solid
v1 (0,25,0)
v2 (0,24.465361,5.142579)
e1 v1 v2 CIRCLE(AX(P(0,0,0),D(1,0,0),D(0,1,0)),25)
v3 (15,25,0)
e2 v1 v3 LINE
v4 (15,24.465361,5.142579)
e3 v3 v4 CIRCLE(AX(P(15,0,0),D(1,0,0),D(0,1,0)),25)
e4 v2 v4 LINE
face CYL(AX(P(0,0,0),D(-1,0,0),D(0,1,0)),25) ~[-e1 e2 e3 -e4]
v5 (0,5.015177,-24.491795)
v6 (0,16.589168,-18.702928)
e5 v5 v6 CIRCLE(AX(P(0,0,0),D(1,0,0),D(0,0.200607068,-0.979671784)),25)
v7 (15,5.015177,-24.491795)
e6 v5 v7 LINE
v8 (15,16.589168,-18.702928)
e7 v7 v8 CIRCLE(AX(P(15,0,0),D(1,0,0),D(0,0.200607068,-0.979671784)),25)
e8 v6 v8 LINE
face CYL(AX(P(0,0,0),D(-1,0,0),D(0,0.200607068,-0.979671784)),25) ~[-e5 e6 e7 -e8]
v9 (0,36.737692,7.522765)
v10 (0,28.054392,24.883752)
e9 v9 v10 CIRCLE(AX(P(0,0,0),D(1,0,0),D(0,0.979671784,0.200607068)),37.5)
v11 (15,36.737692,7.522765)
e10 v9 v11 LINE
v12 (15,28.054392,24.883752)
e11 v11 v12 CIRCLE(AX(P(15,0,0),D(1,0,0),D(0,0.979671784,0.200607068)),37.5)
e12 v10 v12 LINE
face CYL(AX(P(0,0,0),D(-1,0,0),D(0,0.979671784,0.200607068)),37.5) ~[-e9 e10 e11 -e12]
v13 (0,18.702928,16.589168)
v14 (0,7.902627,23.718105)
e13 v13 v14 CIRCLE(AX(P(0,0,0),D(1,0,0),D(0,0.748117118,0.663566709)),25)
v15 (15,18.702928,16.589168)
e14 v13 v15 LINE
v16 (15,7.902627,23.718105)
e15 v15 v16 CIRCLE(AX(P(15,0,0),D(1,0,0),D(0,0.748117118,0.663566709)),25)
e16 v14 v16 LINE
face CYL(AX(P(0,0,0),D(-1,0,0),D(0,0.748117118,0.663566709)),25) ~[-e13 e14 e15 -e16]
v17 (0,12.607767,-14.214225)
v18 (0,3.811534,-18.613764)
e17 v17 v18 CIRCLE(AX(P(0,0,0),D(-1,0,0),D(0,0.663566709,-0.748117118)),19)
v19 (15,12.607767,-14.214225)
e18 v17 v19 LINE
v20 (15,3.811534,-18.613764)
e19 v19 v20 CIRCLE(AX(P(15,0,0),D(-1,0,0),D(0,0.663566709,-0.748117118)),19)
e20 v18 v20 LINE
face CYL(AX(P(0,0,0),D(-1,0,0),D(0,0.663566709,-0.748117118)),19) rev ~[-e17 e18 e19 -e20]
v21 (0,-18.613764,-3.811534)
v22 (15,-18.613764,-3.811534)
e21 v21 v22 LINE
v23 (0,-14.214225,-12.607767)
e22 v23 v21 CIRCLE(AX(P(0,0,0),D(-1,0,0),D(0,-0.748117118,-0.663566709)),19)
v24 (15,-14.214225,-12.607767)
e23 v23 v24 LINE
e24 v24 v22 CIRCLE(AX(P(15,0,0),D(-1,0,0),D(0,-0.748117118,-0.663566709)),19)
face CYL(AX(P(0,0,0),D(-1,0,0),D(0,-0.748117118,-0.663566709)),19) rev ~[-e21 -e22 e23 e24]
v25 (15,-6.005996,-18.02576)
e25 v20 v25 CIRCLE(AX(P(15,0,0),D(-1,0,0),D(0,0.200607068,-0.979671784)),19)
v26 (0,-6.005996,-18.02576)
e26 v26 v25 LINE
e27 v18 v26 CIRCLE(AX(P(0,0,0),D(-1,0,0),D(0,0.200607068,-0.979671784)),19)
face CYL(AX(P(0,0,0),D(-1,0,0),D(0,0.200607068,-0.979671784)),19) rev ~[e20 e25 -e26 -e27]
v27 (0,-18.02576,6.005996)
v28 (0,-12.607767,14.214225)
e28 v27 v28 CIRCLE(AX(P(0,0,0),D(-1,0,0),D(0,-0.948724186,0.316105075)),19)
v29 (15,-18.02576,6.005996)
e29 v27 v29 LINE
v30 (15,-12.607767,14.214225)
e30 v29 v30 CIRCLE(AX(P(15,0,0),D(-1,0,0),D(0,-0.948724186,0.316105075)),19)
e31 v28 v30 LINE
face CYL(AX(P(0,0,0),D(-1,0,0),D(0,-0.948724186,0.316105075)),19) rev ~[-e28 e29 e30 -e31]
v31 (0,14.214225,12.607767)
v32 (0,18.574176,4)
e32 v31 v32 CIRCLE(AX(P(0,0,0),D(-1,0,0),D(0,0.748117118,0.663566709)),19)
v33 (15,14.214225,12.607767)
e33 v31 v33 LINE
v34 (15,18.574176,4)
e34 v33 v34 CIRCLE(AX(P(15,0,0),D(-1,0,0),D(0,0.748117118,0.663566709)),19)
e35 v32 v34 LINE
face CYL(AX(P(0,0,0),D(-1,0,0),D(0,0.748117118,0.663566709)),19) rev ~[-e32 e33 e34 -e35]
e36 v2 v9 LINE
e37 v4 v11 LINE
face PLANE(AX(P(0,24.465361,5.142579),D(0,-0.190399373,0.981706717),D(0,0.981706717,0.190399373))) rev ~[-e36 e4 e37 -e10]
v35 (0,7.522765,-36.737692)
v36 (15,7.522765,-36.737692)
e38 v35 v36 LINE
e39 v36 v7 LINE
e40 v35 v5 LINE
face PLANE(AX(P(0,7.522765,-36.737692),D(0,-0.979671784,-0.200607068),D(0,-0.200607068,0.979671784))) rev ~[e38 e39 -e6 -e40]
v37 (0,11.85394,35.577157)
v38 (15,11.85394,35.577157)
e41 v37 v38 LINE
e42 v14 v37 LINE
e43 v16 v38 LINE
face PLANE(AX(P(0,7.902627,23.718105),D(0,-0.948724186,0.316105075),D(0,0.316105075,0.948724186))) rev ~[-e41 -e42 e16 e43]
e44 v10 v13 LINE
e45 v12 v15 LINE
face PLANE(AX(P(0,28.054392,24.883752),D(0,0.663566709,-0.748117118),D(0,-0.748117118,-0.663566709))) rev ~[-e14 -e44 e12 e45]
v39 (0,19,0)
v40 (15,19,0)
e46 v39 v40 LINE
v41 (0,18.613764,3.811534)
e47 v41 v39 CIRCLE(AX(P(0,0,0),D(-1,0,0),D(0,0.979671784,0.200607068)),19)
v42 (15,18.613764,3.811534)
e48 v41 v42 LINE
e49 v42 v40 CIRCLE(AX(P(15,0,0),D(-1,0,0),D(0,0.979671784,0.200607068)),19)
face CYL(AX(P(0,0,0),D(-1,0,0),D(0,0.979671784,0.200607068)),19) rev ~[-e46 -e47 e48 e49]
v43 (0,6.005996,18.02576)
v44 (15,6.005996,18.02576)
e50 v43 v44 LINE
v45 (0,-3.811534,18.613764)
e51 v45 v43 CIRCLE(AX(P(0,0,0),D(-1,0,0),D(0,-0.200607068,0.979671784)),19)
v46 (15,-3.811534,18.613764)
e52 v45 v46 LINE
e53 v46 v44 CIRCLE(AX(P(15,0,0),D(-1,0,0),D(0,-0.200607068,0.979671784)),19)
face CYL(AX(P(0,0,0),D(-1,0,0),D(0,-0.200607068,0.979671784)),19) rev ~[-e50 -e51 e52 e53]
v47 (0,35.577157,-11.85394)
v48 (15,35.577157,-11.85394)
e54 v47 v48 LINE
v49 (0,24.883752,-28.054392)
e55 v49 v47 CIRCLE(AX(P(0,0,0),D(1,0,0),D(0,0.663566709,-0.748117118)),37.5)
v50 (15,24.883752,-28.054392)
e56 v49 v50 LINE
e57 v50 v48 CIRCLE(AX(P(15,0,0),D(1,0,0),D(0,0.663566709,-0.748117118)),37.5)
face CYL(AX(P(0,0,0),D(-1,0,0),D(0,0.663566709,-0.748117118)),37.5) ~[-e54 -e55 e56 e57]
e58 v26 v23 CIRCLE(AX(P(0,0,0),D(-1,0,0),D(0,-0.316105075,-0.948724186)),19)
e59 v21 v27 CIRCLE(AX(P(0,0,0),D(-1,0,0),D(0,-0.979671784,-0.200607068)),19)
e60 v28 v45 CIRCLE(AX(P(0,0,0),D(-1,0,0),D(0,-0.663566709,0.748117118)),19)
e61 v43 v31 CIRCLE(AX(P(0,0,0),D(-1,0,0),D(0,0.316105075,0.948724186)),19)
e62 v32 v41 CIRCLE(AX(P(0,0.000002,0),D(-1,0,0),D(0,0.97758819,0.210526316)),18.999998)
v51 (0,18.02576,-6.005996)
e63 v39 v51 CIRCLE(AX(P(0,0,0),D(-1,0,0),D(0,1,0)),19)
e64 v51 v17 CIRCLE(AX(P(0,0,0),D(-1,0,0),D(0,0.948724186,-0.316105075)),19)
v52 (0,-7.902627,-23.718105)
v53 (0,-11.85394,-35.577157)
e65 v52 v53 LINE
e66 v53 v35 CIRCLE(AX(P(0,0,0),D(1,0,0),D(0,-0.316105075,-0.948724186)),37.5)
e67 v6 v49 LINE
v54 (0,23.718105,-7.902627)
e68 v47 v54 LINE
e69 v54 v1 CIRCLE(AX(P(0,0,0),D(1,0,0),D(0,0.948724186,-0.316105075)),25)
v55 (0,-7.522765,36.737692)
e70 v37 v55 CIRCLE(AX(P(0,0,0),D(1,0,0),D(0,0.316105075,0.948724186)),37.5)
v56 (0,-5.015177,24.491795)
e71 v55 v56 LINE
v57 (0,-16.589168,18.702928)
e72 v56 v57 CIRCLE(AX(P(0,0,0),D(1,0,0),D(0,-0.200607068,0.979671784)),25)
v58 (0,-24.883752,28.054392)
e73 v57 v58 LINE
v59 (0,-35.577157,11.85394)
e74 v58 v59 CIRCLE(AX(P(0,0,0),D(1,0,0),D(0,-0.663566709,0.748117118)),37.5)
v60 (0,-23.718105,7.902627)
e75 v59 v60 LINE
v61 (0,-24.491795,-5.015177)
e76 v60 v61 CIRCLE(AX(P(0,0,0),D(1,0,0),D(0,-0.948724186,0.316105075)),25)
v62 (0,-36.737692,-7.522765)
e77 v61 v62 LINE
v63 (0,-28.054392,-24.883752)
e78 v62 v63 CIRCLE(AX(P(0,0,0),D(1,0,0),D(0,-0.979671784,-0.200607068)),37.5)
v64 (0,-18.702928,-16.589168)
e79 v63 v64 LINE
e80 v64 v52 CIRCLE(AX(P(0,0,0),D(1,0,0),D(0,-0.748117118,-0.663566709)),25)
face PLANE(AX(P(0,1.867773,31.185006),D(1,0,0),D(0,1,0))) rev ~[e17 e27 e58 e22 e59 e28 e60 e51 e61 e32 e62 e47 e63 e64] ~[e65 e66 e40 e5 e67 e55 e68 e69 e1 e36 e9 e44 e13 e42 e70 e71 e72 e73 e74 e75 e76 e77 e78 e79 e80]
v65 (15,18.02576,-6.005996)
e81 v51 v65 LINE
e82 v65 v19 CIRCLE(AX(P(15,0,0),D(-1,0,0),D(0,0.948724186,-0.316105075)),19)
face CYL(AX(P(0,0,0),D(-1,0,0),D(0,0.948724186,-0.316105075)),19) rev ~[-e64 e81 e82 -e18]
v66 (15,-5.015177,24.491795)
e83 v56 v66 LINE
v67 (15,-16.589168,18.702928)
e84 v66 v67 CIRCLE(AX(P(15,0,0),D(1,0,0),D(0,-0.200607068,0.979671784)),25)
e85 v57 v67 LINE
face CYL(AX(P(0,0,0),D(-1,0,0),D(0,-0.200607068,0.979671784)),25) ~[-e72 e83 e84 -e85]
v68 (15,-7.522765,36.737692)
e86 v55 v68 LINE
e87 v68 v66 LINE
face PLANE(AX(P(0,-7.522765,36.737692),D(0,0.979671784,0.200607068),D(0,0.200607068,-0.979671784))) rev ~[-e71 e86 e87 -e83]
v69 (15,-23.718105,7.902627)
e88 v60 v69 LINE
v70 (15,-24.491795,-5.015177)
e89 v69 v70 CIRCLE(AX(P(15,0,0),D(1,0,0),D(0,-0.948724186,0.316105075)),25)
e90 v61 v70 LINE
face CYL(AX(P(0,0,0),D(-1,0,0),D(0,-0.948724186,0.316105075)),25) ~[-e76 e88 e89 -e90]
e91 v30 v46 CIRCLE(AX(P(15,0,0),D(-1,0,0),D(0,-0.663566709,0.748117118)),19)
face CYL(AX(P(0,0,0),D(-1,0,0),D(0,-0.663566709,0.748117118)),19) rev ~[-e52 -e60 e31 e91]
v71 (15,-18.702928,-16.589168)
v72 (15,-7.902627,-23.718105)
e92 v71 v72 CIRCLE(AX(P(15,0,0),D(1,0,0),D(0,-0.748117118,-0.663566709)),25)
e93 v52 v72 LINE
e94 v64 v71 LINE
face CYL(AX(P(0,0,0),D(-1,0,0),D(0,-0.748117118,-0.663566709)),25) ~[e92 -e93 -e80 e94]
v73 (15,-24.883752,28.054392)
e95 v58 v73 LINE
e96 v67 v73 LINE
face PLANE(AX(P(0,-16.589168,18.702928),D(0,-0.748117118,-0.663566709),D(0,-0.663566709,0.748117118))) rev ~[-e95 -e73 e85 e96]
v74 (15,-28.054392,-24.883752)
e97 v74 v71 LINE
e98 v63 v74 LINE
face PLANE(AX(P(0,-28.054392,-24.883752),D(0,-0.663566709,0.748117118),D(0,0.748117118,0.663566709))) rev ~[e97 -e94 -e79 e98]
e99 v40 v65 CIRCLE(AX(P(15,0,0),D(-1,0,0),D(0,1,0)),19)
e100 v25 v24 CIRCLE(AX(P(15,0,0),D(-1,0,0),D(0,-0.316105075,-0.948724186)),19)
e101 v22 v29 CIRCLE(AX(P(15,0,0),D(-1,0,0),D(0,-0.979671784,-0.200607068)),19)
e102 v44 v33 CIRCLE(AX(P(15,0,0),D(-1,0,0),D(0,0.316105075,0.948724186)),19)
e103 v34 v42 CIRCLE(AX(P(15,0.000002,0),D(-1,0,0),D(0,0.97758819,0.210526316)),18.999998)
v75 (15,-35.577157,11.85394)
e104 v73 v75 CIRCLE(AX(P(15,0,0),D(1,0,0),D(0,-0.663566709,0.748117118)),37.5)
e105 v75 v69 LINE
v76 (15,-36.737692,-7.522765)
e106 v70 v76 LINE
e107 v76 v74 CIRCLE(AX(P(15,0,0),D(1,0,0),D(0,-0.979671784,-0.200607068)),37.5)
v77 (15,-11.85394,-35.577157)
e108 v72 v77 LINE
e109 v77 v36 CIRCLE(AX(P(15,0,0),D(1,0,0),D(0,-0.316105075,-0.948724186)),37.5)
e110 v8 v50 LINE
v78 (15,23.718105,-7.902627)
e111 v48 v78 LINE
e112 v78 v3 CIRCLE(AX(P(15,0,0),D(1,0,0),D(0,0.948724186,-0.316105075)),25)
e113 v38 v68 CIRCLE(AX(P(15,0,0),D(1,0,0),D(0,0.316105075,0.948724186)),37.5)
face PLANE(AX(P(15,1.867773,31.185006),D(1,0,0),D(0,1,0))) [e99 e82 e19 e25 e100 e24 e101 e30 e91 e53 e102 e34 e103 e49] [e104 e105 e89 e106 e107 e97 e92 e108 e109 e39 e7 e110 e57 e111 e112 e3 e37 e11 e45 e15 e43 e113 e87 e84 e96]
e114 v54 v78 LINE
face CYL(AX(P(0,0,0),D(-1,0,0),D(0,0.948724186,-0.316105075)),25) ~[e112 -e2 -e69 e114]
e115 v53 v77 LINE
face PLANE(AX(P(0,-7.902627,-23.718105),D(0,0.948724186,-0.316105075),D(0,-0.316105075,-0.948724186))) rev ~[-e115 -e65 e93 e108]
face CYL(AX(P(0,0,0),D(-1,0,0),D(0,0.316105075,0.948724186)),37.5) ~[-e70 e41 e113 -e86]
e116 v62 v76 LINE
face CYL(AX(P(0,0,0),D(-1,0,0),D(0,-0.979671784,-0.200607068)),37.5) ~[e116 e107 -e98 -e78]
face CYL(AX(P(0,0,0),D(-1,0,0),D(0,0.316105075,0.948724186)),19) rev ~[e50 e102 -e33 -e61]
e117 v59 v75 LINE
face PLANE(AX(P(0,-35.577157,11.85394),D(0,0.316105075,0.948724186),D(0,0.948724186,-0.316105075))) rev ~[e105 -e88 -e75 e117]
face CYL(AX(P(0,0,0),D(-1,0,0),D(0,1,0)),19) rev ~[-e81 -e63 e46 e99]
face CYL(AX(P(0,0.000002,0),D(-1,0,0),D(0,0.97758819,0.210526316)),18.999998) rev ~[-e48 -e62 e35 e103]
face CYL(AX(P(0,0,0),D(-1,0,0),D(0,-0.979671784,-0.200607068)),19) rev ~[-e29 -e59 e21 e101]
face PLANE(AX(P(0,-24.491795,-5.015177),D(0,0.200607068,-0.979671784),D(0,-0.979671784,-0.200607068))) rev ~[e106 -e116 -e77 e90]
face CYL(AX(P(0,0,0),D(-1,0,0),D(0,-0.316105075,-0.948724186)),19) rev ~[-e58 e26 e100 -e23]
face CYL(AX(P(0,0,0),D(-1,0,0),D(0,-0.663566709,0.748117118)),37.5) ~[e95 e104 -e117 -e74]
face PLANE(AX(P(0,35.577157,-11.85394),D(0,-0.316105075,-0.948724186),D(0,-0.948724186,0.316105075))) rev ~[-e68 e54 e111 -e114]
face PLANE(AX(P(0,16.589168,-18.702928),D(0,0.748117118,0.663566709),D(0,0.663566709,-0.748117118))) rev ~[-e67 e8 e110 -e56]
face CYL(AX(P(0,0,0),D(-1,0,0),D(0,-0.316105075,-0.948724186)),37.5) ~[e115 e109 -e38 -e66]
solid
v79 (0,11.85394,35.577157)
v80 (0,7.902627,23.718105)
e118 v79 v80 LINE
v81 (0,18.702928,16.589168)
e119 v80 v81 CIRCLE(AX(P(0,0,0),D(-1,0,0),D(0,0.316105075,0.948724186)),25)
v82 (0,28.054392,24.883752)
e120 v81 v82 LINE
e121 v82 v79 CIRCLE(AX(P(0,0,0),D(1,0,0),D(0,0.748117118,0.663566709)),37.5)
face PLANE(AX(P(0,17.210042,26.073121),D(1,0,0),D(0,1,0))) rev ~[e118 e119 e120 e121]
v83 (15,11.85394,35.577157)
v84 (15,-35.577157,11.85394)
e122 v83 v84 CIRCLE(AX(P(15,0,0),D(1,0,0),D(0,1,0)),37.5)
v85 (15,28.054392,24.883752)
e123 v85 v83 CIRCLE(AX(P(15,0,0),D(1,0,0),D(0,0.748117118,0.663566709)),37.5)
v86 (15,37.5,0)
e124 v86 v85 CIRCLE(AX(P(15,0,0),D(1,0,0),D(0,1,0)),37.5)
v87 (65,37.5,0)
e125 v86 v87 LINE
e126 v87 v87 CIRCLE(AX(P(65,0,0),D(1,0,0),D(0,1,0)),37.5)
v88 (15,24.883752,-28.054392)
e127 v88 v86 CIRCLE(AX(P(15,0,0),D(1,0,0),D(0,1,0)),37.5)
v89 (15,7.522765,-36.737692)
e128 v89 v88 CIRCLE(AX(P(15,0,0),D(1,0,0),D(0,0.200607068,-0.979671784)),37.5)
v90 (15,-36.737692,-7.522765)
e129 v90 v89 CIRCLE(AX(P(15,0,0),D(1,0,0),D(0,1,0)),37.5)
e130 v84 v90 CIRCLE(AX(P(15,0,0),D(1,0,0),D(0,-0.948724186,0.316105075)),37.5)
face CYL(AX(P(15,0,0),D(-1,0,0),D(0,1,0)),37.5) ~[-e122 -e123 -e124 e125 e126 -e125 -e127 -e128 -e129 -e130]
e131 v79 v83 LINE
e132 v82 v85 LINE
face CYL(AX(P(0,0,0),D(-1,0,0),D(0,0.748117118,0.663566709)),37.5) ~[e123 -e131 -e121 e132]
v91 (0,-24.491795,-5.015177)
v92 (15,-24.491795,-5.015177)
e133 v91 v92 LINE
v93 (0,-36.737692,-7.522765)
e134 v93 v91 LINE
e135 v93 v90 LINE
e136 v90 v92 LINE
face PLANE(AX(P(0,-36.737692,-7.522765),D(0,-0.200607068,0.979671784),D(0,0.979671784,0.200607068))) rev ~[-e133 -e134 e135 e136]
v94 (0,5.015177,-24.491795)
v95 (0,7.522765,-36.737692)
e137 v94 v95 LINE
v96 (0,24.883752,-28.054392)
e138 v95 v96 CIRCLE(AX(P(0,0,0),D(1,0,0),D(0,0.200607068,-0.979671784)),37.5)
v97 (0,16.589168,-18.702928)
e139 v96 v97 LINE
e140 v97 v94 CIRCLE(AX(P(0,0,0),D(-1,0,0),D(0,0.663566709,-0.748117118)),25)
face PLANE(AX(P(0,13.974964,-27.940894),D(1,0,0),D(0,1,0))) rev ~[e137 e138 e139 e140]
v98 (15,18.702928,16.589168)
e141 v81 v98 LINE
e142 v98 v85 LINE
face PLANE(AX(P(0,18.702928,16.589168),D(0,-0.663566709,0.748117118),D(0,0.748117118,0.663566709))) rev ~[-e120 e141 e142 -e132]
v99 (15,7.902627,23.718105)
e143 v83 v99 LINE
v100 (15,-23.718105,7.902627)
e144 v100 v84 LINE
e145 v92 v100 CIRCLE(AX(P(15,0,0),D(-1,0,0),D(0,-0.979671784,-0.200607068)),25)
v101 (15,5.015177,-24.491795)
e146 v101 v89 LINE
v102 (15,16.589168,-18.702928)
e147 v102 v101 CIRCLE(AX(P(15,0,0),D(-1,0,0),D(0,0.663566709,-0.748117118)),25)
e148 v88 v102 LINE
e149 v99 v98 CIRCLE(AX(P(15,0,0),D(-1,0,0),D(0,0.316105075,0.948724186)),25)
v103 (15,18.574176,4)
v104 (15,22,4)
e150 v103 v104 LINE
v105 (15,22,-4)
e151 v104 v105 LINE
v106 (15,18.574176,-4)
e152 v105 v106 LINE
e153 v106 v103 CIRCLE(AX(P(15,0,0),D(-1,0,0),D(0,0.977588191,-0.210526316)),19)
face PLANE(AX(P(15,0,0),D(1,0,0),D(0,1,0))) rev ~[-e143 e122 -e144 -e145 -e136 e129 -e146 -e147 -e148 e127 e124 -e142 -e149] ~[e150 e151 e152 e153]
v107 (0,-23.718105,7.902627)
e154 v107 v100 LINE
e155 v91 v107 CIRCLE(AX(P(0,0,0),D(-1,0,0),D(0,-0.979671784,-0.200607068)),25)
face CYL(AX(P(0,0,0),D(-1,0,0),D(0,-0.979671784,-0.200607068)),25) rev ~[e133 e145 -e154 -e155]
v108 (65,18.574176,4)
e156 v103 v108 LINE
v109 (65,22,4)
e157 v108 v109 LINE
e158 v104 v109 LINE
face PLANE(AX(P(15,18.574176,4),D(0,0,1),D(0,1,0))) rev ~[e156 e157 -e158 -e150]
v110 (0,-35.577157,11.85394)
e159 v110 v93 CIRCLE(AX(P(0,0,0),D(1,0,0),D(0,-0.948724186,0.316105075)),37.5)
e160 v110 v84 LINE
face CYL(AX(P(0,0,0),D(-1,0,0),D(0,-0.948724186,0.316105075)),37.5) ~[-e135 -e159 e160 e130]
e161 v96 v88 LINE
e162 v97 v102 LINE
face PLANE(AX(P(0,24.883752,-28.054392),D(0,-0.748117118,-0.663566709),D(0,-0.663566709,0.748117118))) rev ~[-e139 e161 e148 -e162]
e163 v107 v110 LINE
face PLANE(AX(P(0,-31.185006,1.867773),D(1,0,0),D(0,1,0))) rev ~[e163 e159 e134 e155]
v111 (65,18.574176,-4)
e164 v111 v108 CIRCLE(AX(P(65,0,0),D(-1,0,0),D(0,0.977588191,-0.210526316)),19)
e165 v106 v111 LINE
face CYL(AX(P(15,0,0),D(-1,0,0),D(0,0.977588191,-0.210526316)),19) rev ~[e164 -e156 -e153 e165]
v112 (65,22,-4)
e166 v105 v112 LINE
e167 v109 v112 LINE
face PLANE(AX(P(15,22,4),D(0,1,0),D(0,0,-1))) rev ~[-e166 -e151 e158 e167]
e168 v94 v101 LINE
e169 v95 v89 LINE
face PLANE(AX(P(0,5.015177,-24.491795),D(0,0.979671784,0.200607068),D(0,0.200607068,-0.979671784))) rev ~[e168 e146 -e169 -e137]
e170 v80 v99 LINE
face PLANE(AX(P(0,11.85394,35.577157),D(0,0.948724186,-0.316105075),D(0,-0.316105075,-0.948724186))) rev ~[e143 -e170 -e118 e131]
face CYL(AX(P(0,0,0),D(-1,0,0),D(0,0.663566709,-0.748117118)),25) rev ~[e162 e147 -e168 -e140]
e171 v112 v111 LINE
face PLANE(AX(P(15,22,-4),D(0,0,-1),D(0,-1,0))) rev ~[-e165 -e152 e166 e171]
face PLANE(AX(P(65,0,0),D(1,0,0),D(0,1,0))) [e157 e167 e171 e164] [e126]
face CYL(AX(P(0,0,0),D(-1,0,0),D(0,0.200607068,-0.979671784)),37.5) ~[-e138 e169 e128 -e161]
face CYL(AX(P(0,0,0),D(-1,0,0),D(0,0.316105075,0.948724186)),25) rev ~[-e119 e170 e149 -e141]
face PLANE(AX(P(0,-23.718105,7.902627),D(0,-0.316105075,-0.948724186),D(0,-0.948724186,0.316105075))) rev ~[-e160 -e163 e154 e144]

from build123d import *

# Parameters (mm, degrees)
F1_R     = 37.5
F2_DEPTH = 50
F4_DEPTH = 15
F5_DEPTH = 15


with BuildPart() as f2:
    # F1 (on offset) → F2 (new body)
    with BuildSketch(Plane.YZ.offset(15)):
        Circle(F1_R)
        with BuildLine():
            ThreePointArc((18.574175621, -4), (-19, 0), (18.574175621, 4))
            Line((18.574175621, 4), (22, 4))
            Line((22, 4), (22, -4))
            Line((22, -4), (18.574175621, -4))
        make_face(mode=Mode.SUBTRACT)
    extrude(amount=F2_DEPTH)

    # F3 (on Right) → F4 (join, through all)
    with BuildSketch(Plane.YZ):
        with BuildLine():
            ThreePointArc((7.5227650439, -36.7376918994), (16.7748473777, -33.5388505387), (24.8837515844, -28.0543919393))
            Line((24.8837515844, -28.0543919393), (16.589167723, -18.7029279595))
            ThreePointArc((16.589167723, -18.7029279595), (11.1832315851, -22.3592336924), (5.015176696, -24.4917945996))
            Line((5.015176696, -24.4917945996), (7.5227650439, -36.7376918994))
        make_face()
        with BuildLine():
            Line((-23.7181046555, 7.9026268766), (-35.5771569832, 11.8539403149))
            ThreePointArc((-35.5771569832, 11.8539403149), (-37.4329202691, 2.2419812956), (-36.7376918994, -7.5227650439))
            Line((-36.7376918994, -7.5227650439), (-24.4917945996, -5.015176696))
            ThreePointArc((-24.4917945996, -5.015176696), (-24.9552801794, 1.4946541971), (-23.7181046555, 7.9026268766))
        make_face()
        with BuildLine():
            Line((18.7029279595, 16.589167723), (28.0543919393, 24.8837515844))
            ThreePointArc((28.0543919393, 24.8837515844), (20.6580728914, 31.296869243), (11.8539403149, 35.5771569832))
            Line((11.8539403149, 35.5771569832), (7.9026268766, 23.7181046555))
            ThreePointArc((7.9026268766, 23.7181046555), (13.7720485942, 20.8645794954), (18.7029279595, 16.589167723))
        make_face()
    extrude(amount=F4_DEPTH)


with BuildPart() as f5:
    # F3 (on Right) → F5 (new body, through all)
    with BuildSketch(Plane.YZ):
        with BuildLine():
            Line((7.9026268766, 23.7181046555), (11.8539403149, 35.5771569832))
            ThreePointArc((11.8539403149, 35.5771569832), (2.2419812956, 37.4329202691), (-7.5227650439, 36.7376918994))
            Line((-7.5227650439, 36.7376918994), (-5.015176696, 24.4917945996))
            ThreePointArc((-5.015176696, 24.4917945996), (1.4946541971, 24.9552801794), (7.9026268766, 23.7181046555))
        make_face()
        with BuildLine():
            Line((-16.589167723, 18.7029279595), (-24.8837515844, 28.0543919393))
            ThreePointArc((-24.8837515844, 28.0543919393), (-31.296869243, 20.6580728914), (-35.5771569832, 11.8539403149))
            Line((-35.5771569832, 11.8539403149), (-23.7181046555, 7.9026268766))
            ThreePointArc((-23.7181046555, 7.9026268766), (-20.8645794954, 13.7720485942), (-16.589167723, 18.7029279595))
        make_face()
        with BuildLine():
            ThreePointArc((-36.7376918994, -7.5227650439), (-33.5388505387, -16.7748473777), (-28.0543919393, -24.8837515844))
            Line((-28.0543919393, -24.8837515844), (-18.7029279595, -16.589167723))
            ThreePointArc((-18.7029279595, -16.589167723), (-22.3592336924, -11.1832315851), (-24.4917945996, -5.015176696))
            Line((-24.4917945996, -5.015176696), (-36.7376918994, -7.5227650439))
        make_face()
        with BuildLine():
            ThreePointArc((-11.8539403149, -35.5771569832), (-2.2419812956, -37.4329202691), (7.5227650439, -36.7376918994))
            Line((7.5227650439, -36.7376918994), (5.015176696, -24.4917945996))
            ThreePointArc((5.015176696, -24.4917945996), (-1.4946541971, -24.9552801794), (-7.9026268766, -23.7181046555))
            Line((-7.9026268766, -23.7181046555), (-11.8539403149, -35.5771569832))
        make_face()
        with BuildLine():
            ThreePointArc((24.8837515844, -28.0543919393), (31.296869243, -20.6580728914), (35.5771569832, -11.8539403149))
            Line((35.5771569832, -11.8539403149), (23.7181046555, -7.9026268766))
            ThreePointArc((23.7181046555, -7.9026268766), (20.8645794954, -13.7720485942), (16.589167723, -18.7029279595))
            Line((16.589167723, -18.7029279595), (24.8837515844, -28.0543919393))
        make_face()
        with BuildLine():
            Line((24.4653607428, 5.1425794817), (36.7376918994, 7.5227650439))
            ThreePointArc((36.7376918994, 7.5227650439), (33.5388505387, 16.7748473777), (28.0543919393, 24.8837515844))
            Line((28.0543919393, 24.8837515844), (18.7029279595, 16.589167723))
            ThreePointArc((18.7029279595, 16.589167723), (22.330055597, 11.2413796767), (24.4653607428, 5.1425794817))
        make_face()
        with BuildLine():
            Line((18.574175621, 4), (24.4653607428, 5.1425794817))
            ThreePointArc((24.4653607428, 5.1425794817), (22.330055597, 11.2413796767), (18.7029279595, 16.589167723))
            Line((18.7029279595, 16.589167723), (14.2142252492, 12.6077674694))
            ThreePointArc((14.2142252492, 12.6077674694), (16.9497263432, 8.5852651031), (18.574175621, 4))
        make_face()
        with BuildLine():
            Line((14.2142252492, 12.6077674694), (18.7029279595, 16.589167723))
            ThreePointArc((18.7029279595, 16.589167723), (13.7720485942, 20.8645794954), (7.9026268766, 23.7181046555))
            Line((7.9026268766, 23.7181046555), (6.0059964262, 18.0257595382))
            ThreePointArc((6.0059964262, 18.0257595382), (10.4667569316, 15.8570804165), (14.2142252492, 12.6077674694))
        make_face()
        with BuildLine():
            Line((6.0059964262, 18.0257595382), (7.9026268766, 23.7181046555))
            ThreePointArc((7.9026268766, 23.7181046555), (1.4946541971, 24.9552801794), (-5.015176696, 24.4917945996))
            Line((-5.015176696, 24.4917945996), (-3.8115342889, 18.6137638957))
            ThreePointArc((-3.8115342889, 18.6137638957), (1.1359371898, 18.9660129363), (6.0059964262, 18.0257595382))
        make_face()
        with BuildLine():
            Line((-3.8115342889, 18.6137638957), (-5.015176696, 24.4917945996))
            ThreePointArc((-5.015176696, 24.4917945996), (-11.1832315851, 22.3592336924), (-16.589167723, 18.7029279595))
            Line((-16.589167723, 18.7029279595), (-12.6077674694, 14.2142252492))
            ThreePointArc((-12.6077674694, 14.2142252492), (-8.4992560047, 16.9930176063), (-3.8115342889, 18.6137638957))
        make_face()
        with BuildLine():
            Line((-12.6077674694, 14.2142252492), (-16.589167723, 18.7029279595))
            ThreePointArc((-16.589167723, 18.7029279595), (-20.8645794954, 13.7720485942), (-23.7181046555, 7.9026268766))
            Line((-23.7181046555, 7.9026268766), (-18.0257595382, 6.0059964262))
            ThreePointArc((-18.0257595382, 6.0059964262), (-15.8570804165, 10.4667569316), (-12.6077674694, 14.2142252492))
        make_face()
        with BuildLine():
            Line((-18.0257595382, 6.0059964262), (-23.7181046555, 7.9026268766))
            ThreePointArc((-23.7181046555, 7.9026268766), (-24.9552801794, 1.4946541971), (-24.4917945996, -5.015176696))
            Line((-24.4917945996, -5.015176696), (-18.6137638957, -3.8115342889))
            ThreePointArc((-18.6137638957, -3.8115342889), (-18.9660129363, 1.1359371898), (-18.0257595382, 6.0059964262))
        make_face()
        with BuildLine():
            ThreePointArc((-24.4917945996, -5.015176696), (-22.3592336924, -11.1832315851), (-18.7029279595, -16.589167723))
            Line((-18.7029279595, -16.589167723), (-14.2142252492, -12.6077674694))
            ThreePointArc((-14.2142252492, -12.6077674694), (-16.9930176063, -8.4992560047), (-18.6137638957, -3.8115342889))
            Line((-18.6137638957, -3.8115342889), (-24.4917945996, -5.015176696))
        make_face()
        with BuildLine():
            ThreePointArc((-18.7029279595, -16.589167723), (-13.7720485942, -20.8645794954), (-7.9026268766, -23.7181046555))
            Line((-7.9026268766, -23.7181046555), (-6.0059964262, -18.0257595382))
            ThreePointArc((-6.0059964262, -18.0257595382), (-10.4667569316, -15.8570804165), (-14.2142252492, -12.6077674694))
            Line((-14.2142252492, -12.6077674694), (-18.7029279595, -16.589167723))
        make_face()
        with BuildLine():
            ThreePointArc((-7.9026268766, -23.7181046555), (-1.4946541971, -24.9552801794), (5.015176696, -24.4917945996))
            Line((5.015176696, -24.4917945996), (3.8115342889, -18.6137638957))
            ThreePointArc((3.8115342889, -18.6137638957), (-1.1359371898, -18.9660129363), (-6.0059964262, -18.0257595382))
            Line((-6.0059964262, -18.0257595382), (-7.9026268766, -23.7181046555))
        make_face()
        with BuildLine():
            ThreePointArc((5.015176696, -24.4917945996), (11.1832315851, -22.3592336924), (16.589167723, -18.7029279595))
            Line((16.589167723, -18.7029279595), (12.6077674694, -14.2142252492))
            ThreePointArc((12.6077674694, -14.2142252492), (8.4992560047, -16.9930176063), (3.8115342889, -18.6137638957))
            Line((3.8115342889, -18.6137638957), (5.015176696, -24.4917945996))
        make_face()
        with BuildLine():
            ThreePointArc((16.589167723, -18.7029279595), (20.8645794954, -13.7720485942), (23.7181046555, -7.9026268766))
            Line((23.7181046555, -7.9026268766), (18.0257595382, -6.0059964262))
            ThreePointArc((18.0257595382, -6.0059964262), (15.8570804165, -10.4667569316), (12.6077674694, -14.2142252492))
            Line((12.6077674694, -14.2142252492), (16.589167723, -18.7029279595))
        make_face()
        with BuildLine():
            ThreePointArc((25, 0), (24.8659809637, 2.5851481031), (24.4653607428, 5.1425794817))
            Line((24.4653607428, 5.1425794817), (18.574175621, 4))
            ThreePointArc((18.574175621, 4), (18.5942085394, 3.9058173017), (18.6137638957, 3.8115342889))
            ThreePointArc((18.6137638957, 3.8115342889), (18.9031943599, 1.9155268181), (19, 0))
            ThreePointArc((19, 0), (18.7548584535, -3.042249889), (18.0257595382, -6.0059964262))
            Line((18.0257595382, -6.0059964262), (23.7181046555, -7.9026268766))
            ThreePointArc((23.7181046555, -7.9026268766), (24.6774453336, -4.0029603803), (25, 0))
        make_face()
    extrude(amount=F5_DEPTH)


solid = Compound([f2.part, f5.part])
